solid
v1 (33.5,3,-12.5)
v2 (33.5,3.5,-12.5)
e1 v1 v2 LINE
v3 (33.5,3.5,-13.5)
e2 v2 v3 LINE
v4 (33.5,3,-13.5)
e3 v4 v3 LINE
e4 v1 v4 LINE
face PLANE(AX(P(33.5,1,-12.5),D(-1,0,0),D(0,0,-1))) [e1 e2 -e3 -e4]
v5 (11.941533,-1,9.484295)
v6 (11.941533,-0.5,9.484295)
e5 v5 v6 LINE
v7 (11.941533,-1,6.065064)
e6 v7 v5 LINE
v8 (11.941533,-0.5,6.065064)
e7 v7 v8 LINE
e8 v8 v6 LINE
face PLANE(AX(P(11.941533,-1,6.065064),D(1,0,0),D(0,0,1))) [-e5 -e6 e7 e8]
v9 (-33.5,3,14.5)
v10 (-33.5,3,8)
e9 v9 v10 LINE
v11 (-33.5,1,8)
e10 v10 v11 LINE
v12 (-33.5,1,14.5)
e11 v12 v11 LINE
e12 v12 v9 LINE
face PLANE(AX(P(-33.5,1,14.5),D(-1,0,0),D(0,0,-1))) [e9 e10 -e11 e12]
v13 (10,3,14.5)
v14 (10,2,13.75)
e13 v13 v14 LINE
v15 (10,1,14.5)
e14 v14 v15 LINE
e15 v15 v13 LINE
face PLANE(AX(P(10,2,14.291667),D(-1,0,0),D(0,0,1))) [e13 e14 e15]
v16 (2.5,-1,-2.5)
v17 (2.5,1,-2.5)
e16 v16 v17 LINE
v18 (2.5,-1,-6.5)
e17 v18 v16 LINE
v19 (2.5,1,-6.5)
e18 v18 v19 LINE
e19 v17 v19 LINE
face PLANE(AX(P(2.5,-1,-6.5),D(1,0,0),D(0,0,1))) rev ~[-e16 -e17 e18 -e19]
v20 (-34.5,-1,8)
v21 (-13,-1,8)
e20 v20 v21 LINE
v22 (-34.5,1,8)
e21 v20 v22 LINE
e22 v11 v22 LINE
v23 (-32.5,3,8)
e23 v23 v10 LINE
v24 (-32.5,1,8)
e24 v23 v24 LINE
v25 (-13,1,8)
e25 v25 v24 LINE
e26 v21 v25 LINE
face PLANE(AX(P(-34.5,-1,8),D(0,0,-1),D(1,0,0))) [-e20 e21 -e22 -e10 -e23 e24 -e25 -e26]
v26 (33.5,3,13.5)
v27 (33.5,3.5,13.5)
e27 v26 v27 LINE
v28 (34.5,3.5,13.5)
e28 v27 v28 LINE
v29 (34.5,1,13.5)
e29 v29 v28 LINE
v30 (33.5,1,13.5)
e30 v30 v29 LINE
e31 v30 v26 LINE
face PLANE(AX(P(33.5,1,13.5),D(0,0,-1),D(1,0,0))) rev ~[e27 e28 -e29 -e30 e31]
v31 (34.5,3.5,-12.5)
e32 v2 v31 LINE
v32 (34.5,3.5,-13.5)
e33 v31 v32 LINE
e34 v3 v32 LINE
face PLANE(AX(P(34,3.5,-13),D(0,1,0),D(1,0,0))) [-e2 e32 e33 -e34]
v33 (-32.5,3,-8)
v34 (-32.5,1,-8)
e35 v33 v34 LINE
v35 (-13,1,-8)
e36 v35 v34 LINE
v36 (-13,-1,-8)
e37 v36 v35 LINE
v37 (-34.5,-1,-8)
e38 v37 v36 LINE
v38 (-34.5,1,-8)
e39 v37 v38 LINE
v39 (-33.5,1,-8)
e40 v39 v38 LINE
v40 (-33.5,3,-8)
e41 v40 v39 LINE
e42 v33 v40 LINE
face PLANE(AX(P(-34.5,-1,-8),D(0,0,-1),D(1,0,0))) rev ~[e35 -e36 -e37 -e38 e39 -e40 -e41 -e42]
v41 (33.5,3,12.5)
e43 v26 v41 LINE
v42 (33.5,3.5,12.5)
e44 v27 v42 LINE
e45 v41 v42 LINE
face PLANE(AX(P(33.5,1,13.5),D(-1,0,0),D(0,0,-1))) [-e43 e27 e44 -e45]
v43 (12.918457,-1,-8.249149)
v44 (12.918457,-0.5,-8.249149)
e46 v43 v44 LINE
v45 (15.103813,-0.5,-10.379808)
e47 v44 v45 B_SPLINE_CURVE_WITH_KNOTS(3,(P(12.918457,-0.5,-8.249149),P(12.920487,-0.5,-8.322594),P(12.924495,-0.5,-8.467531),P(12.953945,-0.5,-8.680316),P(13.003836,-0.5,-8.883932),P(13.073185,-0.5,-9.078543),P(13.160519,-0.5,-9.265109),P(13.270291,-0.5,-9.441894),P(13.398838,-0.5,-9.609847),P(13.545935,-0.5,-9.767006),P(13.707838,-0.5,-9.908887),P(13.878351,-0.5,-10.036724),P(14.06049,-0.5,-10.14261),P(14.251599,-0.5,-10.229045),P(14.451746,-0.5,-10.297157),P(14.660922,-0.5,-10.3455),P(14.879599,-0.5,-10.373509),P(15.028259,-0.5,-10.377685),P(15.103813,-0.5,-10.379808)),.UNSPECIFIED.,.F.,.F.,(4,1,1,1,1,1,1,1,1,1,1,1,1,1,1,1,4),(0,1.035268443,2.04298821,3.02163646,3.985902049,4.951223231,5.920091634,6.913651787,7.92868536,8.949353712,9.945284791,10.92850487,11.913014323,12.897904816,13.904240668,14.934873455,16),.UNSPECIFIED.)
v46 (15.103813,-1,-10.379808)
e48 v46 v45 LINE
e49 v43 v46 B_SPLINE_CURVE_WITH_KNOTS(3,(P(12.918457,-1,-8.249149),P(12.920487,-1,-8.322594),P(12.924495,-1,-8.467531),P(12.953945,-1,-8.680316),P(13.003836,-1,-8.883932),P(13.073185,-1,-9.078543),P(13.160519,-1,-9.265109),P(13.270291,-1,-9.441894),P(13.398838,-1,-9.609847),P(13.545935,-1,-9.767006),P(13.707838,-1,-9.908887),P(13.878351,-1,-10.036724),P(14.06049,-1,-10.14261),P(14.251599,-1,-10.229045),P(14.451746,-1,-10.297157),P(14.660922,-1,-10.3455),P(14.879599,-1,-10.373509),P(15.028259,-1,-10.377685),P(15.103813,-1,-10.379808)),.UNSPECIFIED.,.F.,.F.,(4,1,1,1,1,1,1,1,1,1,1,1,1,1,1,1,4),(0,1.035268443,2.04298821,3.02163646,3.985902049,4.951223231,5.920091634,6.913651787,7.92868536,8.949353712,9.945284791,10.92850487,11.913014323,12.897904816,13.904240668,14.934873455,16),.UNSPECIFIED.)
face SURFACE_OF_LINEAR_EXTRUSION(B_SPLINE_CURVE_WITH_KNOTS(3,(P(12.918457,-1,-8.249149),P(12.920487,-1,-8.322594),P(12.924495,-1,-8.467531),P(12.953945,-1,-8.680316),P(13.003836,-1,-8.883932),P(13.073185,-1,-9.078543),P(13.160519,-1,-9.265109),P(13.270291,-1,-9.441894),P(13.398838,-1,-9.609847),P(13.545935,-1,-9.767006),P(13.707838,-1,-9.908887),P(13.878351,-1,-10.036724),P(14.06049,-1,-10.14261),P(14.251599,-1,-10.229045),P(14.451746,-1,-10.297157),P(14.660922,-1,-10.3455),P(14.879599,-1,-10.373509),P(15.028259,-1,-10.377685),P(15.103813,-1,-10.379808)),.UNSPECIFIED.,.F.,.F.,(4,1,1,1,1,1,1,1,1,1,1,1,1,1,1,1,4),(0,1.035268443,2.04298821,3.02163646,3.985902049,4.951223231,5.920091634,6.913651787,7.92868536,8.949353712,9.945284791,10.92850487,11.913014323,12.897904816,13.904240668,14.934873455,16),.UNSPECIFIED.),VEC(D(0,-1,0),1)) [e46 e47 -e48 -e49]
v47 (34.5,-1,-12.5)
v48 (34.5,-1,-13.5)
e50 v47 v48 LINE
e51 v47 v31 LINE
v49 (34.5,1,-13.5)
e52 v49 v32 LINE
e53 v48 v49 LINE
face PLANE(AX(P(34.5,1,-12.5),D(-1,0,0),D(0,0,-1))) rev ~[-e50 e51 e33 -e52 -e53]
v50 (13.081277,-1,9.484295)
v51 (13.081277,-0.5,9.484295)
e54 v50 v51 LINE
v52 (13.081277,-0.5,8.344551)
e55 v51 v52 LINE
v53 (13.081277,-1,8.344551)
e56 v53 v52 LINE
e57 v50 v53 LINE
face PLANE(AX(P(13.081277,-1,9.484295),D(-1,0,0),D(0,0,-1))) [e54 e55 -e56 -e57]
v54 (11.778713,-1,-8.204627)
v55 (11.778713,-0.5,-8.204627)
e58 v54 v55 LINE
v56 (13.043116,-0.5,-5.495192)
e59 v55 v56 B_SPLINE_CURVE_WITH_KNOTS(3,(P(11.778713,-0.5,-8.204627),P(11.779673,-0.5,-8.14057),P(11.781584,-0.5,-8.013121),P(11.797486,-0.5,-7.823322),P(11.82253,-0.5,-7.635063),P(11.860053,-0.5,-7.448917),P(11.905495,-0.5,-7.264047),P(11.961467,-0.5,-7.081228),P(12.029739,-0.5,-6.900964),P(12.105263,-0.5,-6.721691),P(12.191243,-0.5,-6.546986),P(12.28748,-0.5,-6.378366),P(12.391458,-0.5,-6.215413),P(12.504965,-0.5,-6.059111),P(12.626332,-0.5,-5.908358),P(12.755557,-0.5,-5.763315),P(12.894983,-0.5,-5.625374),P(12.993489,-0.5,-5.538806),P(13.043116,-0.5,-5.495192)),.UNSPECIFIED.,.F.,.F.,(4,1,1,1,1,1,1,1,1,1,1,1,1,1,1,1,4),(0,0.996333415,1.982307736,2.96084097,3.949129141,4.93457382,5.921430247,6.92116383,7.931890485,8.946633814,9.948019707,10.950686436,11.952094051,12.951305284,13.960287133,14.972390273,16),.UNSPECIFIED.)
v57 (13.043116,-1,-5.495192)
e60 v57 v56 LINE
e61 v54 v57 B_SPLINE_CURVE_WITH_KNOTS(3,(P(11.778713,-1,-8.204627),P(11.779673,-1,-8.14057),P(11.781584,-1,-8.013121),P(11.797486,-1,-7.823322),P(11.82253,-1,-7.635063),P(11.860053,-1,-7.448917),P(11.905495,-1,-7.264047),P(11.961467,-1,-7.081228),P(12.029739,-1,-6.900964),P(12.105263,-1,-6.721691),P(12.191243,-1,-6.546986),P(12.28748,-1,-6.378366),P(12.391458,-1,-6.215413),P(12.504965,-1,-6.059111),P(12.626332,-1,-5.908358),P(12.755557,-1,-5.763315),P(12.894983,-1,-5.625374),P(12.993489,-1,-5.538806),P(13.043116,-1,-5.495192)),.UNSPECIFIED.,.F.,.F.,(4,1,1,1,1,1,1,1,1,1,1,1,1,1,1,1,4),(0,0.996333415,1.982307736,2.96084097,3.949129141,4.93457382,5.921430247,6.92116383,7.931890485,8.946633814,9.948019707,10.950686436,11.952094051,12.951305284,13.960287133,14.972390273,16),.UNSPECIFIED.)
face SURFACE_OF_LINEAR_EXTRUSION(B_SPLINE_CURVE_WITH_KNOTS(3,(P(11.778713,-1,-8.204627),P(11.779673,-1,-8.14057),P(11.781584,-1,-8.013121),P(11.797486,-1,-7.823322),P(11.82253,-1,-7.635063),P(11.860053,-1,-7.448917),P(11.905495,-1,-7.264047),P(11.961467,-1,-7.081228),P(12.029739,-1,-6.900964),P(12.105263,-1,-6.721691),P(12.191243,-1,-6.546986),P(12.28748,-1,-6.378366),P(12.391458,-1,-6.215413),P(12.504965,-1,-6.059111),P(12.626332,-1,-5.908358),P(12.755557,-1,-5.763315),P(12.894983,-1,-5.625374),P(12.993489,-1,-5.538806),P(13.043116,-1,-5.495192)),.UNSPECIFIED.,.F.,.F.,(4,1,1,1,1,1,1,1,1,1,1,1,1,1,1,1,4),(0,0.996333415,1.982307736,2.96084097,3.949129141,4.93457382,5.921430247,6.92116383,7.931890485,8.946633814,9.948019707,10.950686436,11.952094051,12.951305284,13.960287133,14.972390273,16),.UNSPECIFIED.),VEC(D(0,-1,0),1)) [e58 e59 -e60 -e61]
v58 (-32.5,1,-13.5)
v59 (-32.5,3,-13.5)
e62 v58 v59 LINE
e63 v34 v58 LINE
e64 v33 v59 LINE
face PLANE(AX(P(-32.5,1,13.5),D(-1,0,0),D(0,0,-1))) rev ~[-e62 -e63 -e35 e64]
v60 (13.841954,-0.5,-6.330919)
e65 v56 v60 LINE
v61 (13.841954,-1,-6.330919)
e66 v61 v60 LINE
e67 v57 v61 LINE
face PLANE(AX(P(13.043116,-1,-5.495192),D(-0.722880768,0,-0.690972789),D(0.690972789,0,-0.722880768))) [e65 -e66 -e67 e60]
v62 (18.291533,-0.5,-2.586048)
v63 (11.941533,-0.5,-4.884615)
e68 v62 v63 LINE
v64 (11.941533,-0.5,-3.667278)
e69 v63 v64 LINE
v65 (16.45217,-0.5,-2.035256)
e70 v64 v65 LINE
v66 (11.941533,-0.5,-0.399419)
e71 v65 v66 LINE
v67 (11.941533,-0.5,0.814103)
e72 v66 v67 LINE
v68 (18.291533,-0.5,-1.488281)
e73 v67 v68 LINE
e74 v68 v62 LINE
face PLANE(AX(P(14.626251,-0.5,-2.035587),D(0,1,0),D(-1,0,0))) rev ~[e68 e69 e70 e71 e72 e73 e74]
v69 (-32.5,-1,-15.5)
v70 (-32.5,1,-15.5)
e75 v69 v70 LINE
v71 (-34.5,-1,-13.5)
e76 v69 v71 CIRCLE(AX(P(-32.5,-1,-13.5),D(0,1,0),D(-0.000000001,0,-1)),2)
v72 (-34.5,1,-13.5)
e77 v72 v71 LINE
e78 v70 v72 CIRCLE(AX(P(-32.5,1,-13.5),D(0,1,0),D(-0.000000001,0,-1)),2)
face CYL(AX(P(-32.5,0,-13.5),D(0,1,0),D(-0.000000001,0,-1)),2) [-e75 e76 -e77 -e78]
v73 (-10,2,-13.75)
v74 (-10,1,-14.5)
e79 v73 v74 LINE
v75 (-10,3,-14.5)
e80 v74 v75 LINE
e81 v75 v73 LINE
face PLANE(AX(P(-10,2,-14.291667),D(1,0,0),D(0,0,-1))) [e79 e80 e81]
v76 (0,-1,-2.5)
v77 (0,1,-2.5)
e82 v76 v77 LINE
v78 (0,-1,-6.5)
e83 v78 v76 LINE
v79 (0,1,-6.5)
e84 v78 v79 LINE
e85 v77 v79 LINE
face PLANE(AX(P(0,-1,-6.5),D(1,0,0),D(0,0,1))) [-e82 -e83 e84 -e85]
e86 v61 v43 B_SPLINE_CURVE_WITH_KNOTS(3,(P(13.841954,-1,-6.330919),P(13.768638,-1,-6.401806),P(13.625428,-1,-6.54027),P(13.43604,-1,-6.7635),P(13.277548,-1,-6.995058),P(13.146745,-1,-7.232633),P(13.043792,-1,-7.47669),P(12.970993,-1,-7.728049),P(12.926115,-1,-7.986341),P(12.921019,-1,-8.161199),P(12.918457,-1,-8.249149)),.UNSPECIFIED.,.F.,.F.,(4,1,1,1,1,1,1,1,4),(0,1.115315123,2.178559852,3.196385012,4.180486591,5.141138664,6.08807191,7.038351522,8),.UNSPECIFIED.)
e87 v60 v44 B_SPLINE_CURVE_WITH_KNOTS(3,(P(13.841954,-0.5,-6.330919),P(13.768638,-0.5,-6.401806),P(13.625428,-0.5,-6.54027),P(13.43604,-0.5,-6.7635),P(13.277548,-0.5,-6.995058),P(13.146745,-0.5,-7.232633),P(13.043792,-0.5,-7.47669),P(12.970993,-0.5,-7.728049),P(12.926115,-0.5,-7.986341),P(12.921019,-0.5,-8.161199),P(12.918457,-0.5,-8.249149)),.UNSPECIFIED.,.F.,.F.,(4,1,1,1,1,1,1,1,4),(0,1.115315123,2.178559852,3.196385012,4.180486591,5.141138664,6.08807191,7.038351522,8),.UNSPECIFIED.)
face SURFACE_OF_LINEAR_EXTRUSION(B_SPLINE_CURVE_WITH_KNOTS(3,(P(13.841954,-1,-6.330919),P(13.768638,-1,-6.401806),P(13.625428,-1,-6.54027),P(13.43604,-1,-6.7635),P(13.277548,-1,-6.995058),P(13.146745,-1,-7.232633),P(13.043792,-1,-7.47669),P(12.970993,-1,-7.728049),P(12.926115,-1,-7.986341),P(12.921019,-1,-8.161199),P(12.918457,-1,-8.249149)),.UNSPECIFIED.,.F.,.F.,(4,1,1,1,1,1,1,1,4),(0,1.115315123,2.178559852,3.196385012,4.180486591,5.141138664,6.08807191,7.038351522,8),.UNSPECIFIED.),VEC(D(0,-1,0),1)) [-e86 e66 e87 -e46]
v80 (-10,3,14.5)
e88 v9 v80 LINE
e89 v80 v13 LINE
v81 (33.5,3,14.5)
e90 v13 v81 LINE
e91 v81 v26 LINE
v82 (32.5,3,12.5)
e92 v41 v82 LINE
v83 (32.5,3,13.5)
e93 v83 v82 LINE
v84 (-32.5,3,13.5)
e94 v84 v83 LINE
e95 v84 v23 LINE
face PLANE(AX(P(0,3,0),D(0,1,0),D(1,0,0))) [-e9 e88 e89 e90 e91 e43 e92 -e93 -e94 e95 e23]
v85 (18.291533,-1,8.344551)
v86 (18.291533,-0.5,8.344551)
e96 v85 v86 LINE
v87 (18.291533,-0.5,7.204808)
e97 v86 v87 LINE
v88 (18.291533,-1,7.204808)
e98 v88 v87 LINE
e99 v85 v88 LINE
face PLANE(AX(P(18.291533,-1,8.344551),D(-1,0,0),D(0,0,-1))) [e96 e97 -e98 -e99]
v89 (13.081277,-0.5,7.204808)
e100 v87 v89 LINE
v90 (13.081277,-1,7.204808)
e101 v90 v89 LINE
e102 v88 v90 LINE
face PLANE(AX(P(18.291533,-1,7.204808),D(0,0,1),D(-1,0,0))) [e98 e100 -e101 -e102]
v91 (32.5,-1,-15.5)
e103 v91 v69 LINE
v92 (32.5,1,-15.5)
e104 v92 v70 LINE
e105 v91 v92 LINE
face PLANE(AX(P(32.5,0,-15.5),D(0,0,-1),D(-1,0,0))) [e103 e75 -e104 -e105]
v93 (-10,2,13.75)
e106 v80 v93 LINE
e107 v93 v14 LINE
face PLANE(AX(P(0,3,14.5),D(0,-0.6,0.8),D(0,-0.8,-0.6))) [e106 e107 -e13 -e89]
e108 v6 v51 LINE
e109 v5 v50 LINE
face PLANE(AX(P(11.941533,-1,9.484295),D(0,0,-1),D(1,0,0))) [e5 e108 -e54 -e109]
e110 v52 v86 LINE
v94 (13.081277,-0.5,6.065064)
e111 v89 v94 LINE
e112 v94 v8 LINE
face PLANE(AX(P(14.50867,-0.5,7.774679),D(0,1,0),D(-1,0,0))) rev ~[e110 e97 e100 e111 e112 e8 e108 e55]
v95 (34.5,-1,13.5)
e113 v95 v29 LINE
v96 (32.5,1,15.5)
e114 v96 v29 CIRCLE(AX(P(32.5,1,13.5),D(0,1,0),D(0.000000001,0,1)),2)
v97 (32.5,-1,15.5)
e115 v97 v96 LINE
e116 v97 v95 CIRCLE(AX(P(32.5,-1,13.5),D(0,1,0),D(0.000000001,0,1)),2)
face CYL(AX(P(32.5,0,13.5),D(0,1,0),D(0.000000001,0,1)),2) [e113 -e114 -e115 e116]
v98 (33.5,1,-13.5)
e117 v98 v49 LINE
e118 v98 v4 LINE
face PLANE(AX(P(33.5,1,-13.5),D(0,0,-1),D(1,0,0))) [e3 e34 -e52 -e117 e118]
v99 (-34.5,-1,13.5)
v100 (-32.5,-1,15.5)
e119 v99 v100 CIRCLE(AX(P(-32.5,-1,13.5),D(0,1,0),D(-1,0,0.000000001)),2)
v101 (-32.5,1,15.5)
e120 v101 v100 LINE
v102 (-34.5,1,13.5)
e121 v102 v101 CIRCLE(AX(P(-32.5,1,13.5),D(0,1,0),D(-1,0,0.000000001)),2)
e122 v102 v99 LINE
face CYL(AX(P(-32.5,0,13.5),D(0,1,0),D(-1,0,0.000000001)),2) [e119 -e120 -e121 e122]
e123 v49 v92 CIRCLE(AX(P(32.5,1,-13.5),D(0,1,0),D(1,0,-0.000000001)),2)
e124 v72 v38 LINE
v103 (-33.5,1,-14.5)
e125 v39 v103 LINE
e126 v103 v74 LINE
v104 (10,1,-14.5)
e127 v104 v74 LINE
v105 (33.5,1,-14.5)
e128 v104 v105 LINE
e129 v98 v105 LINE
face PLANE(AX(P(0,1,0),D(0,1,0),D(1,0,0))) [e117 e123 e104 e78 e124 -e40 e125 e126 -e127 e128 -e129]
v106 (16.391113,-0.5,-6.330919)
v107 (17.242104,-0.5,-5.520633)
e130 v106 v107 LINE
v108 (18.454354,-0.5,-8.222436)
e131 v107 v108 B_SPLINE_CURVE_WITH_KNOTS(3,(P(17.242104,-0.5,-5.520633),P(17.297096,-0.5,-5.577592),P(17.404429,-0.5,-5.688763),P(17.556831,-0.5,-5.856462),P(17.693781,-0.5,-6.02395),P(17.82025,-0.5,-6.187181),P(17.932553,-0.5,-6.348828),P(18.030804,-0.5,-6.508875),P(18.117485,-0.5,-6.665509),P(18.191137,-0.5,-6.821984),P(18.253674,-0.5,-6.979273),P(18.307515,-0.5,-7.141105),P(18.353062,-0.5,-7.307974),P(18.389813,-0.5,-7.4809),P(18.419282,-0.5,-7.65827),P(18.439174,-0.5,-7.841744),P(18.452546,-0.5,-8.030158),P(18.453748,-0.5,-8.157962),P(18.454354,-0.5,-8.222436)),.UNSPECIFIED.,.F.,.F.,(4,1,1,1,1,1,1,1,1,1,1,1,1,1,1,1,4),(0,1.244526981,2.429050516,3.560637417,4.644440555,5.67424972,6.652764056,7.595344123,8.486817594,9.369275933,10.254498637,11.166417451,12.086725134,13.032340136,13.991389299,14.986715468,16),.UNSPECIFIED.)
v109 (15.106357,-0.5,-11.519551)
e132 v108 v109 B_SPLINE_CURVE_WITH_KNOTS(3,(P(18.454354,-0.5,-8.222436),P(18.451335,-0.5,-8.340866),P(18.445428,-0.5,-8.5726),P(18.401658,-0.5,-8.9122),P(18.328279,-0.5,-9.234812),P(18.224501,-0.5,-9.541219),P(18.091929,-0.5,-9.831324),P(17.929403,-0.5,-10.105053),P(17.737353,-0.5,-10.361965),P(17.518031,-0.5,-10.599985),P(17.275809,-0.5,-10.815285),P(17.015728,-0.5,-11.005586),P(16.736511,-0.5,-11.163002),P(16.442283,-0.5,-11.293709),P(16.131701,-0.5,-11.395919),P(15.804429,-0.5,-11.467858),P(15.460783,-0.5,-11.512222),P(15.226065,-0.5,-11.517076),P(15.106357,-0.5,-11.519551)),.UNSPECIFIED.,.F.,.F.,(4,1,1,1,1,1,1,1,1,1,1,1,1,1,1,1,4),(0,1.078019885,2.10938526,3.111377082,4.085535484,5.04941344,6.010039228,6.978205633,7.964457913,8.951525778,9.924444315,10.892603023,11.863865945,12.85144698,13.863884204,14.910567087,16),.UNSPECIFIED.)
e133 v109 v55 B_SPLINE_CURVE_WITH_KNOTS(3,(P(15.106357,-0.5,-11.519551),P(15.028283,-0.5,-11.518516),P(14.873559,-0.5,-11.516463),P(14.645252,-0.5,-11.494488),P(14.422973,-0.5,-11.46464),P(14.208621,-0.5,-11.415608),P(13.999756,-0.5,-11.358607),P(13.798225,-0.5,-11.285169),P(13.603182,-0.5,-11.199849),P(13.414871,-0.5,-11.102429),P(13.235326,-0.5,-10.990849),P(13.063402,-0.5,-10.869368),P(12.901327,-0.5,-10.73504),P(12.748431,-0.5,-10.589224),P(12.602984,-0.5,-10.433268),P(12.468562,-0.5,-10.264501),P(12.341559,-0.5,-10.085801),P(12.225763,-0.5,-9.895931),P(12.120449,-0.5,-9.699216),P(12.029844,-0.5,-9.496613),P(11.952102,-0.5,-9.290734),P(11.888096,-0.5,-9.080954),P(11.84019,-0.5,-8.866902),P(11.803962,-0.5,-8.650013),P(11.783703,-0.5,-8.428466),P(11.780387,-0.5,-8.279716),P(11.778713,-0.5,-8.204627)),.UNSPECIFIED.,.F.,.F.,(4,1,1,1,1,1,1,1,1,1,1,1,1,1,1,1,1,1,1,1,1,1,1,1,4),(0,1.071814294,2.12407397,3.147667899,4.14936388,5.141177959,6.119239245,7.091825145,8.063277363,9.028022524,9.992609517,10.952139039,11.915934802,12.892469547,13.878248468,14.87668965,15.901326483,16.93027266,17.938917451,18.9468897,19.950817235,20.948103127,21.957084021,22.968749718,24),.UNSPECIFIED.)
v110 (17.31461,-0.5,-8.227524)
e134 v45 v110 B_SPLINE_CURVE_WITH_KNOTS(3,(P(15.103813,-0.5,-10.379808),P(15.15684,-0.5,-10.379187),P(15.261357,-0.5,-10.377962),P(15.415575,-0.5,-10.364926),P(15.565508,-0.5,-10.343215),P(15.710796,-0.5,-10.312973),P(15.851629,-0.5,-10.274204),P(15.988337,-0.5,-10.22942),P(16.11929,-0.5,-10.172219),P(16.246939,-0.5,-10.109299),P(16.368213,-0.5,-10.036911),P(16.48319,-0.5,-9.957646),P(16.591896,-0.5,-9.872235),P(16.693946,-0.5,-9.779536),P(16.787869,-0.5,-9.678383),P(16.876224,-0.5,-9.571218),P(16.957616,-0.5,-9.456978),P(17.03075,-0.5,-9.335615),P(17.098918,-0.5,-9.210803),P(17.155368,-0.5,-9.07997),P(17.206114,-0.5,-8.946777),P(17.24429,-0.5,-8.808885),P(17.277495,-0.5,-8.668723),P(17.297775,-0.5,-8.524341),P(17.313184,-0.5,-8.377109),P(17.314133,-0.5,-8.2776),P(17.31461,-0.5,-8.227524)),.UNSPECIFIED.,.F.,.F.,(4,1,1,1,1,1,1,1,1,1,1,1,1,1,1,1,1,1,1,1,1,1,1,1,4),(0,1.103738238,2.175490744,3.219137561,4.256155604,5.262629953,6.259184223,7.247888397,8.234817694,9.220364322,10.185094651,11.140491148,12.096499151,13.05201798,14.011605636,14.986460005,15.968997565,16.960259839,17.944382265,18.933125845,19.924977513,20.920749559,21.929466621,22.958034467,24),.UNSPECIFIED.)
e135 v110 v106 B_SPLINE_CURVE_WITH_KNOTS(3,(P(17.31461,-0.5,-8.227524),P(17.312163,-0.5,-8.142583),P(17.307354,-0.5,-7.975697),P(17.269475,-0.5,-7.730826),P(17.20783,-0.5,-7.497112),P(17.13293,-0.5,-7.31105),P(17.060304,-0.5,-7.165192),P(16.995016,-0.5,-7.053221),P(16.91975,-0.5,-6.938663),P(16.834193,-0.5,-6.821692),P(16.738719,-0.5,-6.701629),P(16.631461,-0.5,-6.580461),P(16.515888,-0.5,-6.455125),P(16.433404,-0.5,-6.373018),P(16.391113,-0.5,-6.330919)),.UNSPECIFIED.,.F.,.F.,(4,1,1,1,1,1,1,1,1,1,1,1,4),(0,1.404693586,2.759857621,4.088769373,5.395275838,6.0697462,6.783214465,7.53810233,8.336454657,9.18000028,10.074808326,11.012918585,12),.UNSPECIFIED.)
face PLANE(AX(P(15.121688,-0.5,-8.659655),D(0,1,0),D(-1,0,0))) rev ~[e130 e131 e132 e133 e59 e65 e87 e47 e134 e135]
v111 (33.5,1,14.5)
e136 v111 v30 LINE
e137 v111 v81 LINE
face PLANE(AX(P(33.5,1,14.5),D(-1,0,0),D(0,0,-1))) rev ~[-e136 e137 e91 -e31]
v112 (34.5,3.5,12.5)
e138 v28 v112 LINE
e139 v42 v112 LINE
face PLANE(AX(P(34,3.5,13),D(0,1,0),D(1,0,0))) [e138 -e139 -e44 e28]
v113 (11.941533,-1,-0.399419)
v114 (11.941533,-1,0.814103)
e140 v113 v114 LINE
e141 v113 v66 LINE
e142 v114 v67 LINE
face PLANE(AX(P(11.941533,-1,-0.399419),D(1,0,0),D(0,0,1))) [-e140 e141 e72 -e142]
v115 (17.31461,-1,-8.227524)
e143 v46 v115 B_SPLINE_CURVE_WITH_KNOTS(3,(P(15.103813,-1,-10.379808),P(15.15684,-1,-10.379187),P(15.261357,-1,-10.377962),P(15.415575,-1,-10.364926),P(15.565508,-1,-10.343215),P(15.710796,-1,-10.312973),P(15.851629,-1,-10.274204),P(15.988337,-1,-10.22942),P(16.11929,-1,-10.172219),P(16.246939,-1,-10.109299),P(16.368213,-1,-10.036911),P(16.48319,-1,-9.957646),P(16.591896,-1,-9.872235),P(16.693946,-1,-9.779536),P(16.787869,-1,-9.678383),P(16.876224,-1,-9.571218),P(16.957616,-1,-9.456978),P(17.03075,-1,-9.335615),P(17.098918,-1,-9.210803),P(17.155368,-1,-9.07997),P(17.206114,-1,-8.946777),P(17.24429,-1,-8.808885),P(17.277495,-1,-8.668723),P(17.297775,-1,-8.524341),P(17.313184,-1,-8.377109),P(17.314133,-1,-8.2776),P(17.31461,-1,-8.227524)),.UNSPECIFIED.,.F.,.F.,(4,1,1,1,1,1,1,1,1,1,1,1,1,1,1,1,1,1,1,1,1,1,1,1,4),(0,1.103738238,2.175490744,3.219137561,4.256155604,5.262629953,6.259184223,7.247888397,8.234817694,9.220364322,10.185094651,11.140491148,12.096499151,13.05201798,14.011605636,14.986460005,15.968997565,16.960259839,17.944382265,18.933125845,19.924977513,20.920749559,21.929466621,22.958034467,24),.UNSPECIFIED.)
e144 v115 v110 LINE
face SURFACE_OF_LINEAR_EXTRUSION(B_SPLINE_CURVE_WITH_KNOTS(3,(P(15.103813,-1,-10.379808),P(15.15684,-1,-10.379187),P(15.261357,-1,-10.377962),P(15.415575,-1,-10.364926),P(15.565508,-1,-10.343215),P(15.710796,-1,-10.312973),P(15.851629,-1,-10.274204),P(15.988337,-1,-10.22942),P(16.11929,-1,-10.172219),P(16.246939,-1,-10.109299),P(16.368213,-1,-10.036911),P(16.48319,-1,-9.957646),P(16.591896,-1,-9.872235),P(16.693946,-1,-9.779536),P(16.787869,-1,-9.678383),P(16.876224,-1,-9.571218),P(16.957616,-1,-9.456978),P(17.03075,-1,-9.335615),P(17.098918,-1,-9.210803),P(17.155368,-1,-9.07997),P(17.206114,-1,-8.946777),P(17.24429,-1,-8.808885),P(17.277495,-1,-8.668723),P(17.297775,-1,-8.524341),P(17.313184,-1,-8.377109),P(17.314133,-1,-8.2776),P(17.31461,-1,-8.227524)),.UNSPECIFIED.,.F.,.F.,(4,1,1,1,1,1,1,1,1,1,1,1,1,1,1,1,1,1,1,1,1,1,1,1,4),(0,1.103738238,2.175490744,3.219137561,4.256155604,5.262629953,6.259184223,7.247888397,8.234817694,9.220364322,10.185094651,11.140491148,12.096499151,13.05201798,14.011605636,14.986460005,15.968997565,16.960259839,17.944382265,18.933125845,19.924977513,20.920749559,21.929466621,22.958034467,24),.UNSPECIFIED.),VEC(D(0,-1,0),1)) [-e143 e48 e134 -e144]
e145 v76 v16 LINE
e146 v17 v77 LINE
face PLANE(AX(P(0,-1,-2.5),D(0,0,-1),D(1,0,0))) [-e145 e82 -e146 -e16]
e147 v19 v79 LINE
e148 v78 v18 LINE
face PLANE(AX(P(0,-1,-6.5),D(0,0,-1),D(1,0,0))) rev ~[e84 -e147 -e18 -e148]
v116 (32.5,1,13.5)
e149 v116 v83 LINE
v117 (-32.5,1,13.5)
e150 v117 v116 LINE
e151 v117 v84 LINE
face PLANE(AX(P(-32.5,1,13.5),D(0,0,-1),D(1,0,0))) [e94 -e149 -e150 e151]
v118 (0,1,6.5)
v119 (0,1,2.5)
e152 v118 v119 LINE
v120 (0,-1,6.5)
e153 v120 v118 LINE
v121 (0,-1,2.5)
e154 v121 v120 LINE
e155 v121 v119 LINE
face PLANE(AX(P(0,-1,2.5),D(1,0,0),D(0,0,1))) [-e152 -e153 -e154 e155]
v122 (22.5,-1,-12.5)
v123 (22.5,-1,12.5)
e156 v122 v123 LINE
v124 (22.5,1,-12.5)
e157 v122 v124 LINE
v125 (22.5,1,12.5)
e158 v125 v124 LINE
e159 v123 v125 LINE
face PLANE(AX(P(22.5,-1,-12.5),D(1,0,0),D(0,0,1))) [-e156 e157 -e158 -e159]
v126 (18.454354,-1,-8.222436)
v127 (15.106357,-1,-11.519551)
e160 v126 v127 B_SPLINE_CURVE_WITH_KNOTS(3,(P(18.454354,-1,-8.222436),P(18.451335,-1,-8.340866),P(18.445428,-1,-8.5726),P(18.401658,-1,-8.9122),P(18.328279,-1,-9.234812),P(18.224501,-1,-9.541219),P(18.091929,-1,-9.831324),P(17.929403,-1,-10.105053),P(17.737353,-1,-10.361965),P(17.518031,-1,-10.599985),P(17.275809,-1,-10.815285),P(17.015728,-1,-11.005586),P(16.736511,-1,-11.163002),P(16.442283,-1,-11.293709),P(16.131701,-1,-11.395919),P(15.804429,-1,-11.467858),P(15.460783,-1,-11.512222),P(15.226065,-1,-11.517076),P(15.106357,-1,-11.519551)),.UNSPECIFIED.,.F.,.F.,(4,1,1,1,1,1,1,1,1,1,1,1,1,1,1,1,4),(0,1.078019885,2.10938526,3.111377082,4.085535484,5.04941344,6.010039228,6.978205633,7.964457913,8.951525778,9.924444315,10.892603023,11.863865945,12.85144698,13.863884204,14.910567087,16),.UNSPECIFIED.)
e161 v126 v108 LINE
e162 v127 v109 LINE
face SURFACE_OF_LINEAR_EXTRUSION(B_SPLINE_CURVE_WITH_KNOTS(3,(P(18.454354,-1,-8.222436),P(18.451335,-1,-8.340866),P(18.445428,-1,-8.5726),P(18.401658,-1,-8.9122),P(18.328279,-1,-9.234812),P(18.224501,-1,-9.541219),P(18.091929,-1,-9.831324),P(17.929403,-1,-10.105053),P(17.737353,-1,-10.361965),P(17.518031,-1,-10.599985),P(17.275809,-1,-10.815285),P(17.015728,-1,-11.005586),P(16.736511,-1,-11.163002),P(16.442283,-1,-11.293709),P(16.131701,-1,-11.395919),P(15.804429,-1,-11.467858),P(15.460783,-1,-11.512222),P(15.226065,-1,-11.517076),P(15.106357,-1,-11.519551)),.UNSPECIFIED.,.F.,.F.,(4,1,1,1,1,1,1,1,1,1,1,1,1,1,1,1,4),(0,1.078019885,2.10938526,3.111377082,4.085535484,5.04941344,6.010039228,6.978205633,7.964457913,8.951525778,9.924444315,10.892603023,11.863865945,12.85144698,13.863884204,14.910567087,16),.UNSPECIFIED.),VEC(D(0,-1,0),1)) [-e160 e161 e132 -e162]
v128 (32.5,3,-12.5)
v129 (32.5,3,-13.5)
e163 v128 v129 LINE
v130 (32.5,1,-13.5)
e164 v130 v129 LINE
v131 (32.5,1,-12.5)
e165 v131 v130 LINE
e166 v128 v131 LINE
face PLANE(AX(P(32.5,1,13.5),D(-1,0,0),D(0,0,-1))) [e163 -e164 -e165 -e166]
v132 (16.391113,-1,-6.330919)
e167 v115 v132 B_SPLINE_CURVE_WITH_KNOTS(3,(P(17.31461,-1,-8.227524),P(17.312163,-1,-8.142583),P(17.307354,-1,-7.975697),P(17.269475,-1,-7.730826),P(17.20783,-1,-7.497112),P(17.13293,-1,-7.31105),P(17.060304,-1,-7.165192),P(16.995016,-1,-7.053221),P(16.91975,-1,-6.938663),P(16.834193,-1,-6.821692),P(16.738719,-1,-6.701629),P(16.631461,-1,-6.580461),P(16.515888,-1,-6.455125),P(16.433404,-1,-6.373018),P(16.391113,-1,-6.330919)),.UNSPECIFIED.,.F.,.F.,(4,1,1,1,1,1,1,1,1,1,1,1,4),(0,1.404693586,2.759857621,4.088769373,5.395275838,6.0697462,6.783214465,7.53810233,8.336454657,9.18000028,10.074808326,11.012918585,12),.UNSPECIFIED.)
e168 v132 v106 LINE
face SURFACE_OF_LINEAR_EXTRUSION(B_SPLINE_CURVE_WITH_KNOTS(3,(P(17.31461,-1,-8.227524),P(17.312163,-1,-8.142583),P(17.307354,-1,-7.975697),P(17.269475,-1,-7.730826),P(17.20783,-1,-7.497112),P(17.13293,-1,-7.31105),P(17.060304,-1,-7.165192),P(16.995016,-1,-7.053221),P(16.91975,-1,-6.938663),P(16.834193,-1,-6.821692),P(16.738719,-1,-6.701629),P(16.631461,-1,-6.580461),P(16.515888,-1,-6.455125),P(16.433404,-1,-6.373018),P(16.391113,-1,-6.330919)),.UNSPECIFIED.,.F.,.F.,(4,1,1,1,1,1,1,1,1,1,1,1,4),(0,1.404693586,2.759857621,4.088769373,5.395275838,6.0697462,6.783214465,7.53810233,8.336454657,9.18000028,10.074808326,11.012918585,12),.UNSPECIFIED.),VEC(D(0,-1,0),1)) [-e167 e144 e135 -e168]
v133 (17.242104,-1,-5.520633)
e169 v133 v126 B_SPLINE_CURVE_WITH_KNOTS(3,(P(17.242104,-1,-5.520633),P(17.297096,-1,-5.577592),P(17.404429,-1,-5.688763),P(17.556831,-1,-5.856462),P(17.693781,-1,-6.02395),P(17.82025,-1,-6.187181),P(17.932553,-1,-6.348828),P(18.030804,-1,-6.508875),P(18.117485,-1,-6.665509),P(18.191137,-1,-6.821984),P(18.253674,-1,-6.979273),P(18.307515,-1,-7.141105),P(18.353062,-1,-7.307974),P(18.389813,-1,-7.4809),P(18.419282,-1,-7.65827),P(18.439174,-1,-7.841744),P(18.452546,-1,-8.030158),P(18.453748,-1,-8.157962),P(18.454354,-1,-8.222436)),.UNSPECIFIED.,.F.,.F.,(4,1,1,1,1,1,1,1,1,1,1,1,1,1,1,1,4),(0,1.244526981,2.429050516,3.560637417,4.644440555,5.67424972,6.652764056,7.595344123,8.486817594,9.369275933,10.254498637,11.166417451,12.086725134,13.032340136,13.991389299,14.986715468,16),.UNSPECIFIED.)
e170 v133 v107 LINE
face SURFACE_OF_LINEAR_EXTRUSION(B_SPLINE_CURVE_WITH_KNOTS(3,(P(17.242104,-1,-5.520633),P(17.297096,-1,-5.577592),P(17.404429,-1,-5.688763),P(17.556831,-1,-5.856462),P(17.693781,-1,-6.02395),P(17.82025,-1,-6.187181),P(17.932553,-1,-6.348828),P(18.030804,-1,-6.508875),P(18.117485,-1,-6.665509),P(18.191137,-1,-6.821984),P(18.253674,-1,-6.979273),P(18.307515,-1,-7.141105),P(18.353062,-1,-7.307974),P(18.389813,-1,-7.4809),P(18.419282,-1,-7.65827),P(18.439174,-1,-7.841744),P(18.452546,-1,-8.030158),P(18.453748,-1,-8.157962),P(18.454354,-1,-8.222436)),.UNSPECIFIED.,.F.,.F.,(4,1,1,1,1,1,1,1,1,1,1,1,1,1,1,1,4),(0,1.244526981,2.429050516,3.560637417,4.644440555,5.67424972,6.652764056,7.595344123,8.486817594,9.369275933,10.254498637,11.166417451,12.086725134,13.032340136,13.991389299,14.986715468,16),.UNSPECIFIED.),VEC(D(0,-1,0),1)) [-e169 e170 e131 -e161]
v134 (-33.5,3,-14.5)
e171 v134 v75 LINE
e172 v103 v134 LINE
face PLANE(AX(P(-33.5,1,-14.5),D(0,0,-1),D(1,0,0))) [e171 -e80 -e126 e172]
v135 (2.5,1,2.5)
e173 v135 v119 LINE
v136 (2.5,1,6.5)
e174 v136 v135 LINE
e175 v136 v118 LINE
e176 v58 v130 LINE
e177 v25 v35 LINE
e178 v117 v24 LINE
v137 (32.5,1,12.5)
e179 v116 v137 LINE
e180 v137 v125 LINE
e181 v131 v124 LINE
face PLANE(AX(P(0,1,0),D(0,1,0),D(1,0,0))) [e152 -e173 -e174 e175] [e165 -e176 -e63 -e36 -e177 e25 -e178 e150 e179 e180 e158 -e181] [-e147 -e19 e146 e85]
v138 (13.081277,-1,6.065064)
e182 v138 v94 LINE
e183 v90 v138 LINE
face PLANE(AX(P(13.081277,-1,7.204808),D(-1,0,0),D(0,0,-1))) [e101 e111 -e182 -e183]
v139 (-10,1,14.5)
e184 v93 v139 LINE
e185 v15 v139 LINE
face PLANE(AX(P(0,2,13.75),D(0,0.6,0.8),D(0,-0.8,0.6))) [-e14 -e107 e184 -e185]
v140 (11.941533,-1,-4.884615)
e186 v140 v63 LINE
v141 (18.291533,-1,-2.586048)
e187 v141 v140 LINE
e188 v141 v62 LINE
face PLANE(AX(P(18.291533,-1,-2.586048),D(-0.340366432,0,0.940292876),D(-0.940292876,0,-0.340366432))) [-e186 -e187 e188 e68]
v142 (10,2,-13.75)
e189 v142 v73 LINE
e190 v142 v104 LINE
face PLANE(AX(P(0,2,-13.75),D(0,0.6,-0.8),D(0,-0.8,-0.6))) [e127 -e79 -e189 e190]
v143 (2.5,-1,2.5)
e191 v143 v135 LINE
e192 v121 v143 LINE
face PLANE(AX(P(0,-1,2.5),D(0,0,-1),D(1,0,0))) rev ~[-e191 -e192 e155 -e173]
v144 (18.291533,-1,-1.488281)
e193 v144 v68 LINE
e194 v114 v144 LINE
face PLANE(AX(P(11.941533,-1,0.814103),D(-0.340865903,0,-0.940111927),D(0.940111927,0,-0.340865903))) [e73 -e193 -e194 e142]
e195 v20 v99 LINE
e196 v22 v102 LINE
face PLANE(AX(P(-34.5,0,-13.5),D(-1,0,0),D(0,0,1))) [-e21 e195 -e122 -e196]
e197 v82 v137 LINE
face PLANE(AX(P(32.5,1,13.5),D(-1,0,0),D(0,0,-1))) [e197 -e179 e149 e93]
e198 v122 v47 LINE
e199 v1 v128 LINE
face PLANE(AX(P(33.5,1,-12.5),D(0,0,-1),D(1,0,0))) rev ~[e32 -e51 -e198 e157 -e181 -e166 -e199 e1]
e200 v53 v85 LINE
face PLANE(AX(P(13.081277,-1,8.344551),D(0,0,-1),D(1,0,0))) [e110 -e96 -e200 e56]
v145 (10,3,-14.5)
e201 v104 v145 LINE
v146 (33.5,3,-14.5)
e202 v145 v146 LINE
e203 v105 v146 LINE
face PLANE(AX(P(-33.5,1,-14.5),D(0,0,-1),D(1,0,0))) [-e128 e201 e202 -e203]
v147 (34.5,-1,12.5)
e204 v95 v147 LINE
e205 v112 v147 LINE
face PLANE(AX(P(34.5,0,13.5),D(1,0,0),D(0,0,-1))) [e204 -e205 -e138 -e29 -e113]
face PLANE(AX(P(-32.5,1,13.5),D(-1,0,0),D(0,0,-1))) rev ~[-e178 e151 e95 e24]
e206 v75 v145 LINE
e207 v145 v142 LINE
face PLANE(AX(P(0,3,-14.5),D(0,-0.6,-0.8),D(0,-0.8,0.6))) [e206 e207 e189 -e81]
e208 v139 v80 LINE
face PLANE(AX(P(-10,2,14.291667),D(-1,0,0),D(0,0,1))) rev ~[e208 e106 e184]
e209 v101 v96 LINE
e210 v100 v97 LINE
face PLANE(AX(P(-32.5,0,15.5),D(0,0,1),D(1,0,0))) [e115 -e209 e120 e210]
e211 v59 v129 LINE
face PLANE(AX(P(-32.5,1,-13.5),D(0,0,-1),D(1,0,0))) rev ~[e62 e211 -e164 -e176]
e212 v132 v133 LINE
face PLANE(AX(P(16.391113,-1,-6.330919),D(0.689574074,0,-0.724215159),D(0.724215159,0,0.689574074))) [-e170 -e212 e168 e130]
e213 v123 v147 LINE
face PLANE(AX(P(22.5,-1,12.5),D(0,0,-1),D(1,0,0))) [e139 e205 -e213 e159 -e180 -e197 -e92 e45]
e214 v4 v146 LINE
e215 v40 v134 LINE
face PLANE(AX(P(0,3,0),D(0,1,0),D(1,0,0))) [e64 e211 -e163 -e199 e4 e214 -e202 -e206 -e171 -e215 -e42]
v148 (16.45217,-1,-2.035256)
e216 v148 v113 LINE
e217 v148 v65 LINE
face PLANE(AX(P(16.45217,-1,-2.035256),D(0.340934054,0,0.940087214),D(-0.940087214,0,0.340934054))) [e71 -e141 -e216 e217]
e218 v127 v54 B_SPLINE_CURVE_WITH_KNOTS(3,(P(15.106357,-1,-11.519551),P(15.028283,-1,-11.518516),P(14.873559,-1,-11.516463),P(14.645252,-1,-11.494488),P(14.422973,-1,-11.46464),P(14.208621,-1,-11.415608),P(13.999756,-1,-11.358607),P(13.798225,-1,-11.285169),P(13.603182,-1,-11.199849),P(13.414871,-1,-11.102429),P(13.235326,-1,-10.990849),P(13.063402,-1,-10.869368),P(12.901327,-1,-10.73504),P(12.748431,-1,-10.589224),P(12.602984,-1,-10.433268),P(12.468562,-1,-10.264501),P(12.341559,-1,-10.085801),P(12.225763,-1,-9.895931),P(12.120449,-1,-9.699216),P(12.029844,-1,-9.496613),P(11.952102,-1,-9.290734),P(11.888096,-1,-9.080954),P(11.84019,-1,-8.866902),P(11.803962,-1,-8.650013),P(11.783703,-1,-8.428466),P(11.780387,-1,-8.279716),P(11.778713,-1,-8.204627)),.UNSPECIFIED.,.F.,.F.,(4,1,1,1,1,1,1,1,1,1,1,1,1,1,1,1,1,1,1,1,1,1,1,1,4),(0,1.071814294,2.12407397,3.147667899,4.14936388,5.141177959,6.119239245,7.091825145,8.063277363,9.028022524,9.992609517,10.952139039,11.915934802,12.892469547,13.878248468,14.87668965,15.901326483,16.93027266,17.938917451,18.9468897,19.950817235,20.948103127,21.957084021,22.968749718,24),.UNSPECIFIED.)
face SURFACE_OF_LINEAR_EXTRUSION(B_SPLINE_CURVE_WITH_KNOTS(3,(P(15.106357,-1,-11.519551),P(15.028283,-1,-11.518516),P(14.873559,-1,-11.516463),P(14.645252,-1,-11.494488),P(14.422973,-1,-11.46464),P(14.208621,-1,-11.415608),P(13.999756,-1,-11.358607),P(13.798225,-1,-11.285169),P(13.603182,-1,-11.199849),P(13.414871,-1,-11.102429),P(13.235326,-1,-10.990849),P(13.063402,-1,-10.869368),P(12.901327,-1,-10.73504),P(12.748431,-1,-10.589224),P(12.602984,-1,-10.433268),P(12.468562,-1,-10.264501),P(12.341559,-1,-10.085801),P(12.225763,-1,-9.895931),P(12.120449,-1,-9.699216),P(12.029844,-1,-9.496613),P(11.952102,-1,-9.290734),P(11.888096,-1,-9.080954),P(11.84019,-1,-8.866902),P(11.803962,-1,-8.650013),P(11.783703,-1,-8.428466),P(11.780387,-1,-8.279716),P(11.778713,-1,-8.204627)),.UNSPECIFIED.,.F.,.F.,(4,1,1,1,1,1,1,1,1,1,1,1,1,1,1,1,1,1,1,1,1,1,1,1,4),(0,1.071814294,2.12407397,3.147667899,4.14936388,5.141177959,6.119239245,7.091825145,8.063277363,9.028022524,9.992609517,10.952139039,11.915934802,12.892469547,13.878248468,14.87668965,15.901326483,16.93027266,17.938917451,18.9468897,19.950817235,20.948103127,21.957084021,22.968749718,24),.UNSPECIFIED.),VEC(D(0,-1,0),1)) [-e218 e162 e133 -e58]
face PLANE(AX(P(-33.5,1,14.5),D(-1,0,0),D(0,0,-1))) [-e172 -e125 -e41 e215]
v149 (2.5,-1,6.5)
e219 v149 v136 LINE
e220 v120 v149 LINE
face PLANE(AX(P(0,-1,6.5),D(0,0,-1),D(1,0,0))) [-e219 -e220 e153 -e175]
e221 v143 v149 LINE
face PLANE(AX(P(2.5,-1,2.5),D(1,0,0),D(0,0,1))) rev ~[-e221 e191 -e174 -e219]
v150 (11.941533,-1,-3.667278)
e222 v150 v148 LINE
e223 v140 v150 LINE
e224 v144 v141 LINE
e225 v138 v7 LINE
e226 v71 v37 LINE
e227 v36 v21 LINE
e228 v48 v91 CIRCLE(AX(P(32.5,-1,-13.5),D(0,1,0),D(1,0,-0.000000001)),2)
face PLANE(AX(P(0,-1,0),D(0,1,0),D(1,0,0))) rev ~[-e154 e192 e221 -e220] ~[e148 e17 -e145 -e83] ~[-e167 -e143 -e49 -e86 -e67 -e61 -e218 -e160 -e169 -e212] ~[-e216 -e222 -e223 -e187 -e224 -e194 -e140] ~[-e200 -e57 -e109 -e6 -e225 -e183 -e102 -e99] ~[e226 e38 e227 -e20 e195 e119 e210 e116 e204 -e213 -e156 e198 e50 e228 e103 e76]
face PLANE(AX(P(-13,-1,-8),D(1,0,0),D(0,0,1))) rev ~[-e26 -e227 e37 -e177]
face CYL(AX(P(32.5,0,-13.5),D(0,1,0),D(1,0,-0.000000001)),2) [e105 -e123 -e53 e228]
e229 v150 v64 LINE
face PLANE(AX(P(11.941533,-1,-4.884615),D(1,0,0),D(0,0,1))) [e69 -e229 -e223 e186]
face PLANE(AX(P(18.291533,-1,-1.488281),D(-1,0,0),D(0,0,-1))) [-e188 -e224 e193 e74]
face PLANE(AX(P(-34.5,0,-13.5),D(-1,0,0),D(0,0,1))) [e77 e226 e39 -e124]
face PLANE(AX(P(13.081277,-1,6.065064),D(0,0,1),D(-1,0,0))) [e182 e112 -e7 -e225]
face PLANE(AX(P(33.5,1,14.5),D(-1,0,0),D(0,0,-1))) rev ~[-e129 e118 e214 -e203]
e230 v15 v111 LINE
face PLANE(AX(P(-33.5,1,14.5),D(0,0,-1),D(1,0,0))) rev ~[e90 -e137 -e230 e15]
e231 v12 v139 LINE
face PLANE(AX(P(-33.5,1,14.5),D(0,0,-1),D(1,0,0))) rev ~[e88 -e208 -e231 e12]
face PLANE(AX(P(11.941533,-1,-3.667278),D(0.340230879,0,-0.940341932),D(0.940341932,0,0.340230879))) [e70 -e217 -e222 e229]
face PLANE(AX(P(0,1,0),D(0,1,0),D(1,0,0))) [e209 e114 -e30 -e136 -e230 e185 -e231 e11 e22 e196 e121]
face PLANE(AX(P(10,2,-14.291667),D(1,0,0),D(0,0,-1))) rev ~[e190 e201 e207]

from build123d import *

# Parameters (mm, degrees)
BOSS_EXTRUDE1_DEPTH = 1
SKETCH3_W           = 67
SKETCH3_H           = 29
SKETCH3_W_2         = 65
SKETCH3_H_2         = 27
BOSS_EXTRUDE2_DEPTH = 2
CUT_EXTRUDE1_DEPTH  = 10
SKETCH7_W           = 21.5
SKETCH7_H           = 16
SKETCH7_W_2         = 12
SKETCH7_H_2         = 25
CUT_EXTRUDE2_DEPTH  = 20
SKETCH11_W          = 1
SKETCH11_H          = 1
BOSS_EXTRUDE5_DEPTH = 2.5
CUT_EXTRUDE3_DEPTH  = 0.5
SKETCH13_W          = 2.5
SKETCH13_H          = 4
CUT_EXTRUDE4_DEPTH  = 39.08871237


with BuildPart() as part:
    # Sketch1 → Boss-Extrude1 (new, symmetric)
    with BuildSketch(Plane(origin=(0, 0, 0), x_dir=(1, 0, 0), z_dir=(0, 1, 0))):
        with BuildLine():
            Line((-32.5, -15.5), (32.5, -15.5))
            ThreePointArc((32.5, -15.5), (33.914213562, -14.914213562), (34.5, -13.5))
            Line((34.5, -13.5), (34.5, 13.5))
            ThreePointArc((34.5, 13.5), (33.914213562, 14.914213562), (32.5, 15.5))
            Line((32.5, 15.5), (-32.5, 15.5))
            ThreePointArc((-32.5, 15.5), (-33.914213562, 14.914213562), (-34.5, 13.5))
            Line((-34.5, 13.5), (-34.5, -13.5))
            ThreePointArc((-34.5, -13.5), (-33.914213562, -14.914213562), (-32.5, -15.5))
        make_face()
    extrude(amount=BOSS_EXTRUDE1_DEPTH, both=True)

    # Sketch3 → Boss-Extrude2 (add)
    with BuildSketch(Plane(origin=(0, 1, 0), x_dir=(1, 0, 0), z_dir=(0, 1, 0))):
        Rectangle(SKETCH3_W, SKETCH3_H)
        Rectangle(SKETCH3_W_2, SKETCH3_H_2, mode=Mode.SUBTRACT)
    extrude(amount=BOSS_EXTRUDE2_DEPTH)

    # Sketch6 → Cut-Extrude1 (cut, symmetric)
    with BuildSketch(Plane(origin=(0, 0, 0), x_dir=(0, 0, -1), z_dir=(1, 0, 0))):
        Polygon((14.5, 1), (14.5, 3), (13.75, 2), align=None)
        Polygon((-13.75, 2), (-14.5, 1), (-14.5, 3), align=None)
    extrude(amount=CUT_EXTRUDE1_DEPTH, both=True, mode=Mode.SUBTRACT)

    # Sketch7 → Cut-Extrude2 (cut)
    with BuildSketch(Plane.XZ.offset(1)):
        with Locations((-23.75, 0)):
            Rectangle(SKETCH7_W, SKETCH7_H)
        with Locations((28.5, 0)):
            Rectangle(SKETCH7_W_2, SKETCH7_H_2)
    extrude(amount=-CUT_EXTRUDE2_DEPTH, mode=Mode.SUBTRACT)

    # Sketch11 → Boss-Extrude5 (add)
    with BuildSketch(Plane(origin=(0, 1, 0), x_dir=(1, 0, 0), z_dir=(0, 1, 0))):
        with Locations((34, 13)):
            Rectangle(SKETCH11_W, SKETCH11_H)
        with Locations((34, -13)):
            Rectangle(SKETCH11_W, SKETCH11_H)
    extrude(amount=BOSS_EXTRUDE5_DEPTH)

    # Sketch12 → Cut-Extrude3 (cut)
    with BuildSketch(Plane.XZ.offset(1)):
        Polygon((11.941533437, 6.065064103), (11.941533437, 9.484294872), (13.081277027, 9.484294872), (13.081277027, 8.344551282), (18.291533437, 8.344551282), (18.291533437, 7.204807692), (13.081277027, 7.204807692), (13.081277027, 6.065064103), align=None)
        Polygon((11.941533437, -4.884615385), (11.941533437, -3.667277644), (16.452170457, -2.03525641), (11.941533437, -0.399419071), (11.941533437, 0.814102564), (18.291533437, -1.48828125), (18.291533437, -2.586047676), align=None)
        with BuildLine():
            Line((13.043115969, -5.495192308), (13.84195411, -6.330919471))
            add(Edge.make_bspline(
                [(13.84195411, -6.330919471), (13.768637735, -6.401806055), (13.625427884, -6.540269761), (13.436040425, -6.763499644), (13.277548365, -6.995057512), (13.146745209, -7.232632751), (13.043791904, -7.47669033), (12.970992617, -7.72804876), (12.926114938, -7.986340764), (12.921019422, -8.161199427), (12.918456514, -8.249148638)],
                knots=[0, 0, 0, 0, 1.115315123, 2.178559852, 3.196385012, 4.180486591, 5.141138664, 6.08807191, 7.038351522, 8, 8, 8, 8], degree=3))
            add(Edge.make_bspline(
                [(12.918456514, -8.249148638), (12.920487286, -8.322594137), (12.92449479, -8.467530739), (12.953944547, -8.680315542), (13.00383624, -8.883932376), (13.07318533, -9.078542785), (13.160519089, -9.265108945), (13.270291327, -9.441893594), (13.398838264, -9.609846789), (13.545934957, -9.767006139), (13.707838119, -9.908887036), (13.878351171, -10.03672374), (14.060490077, -10.142609994), (14.251598692, -10.229044823), (14.451746028, -10.297157456), (14.660922066, -10.345499724), (14.879599088, -10.373509267), (15.028259493, -10.377685306), (15.103813085, -10.379807692)],
                knots=[0, 0, 0, 0, 1.035268443, 2.04298821, 3.02163646, 3.985902049, 4.951223231, 5.920091634, 6.913651787, 7.92868536, 8.949353712, 9.945284791, 10.92850487, 11.913014323, 12.897904816, 13.904240668, 14.934873455, 16, 16, 16, 16], degree=3))
            add(Edge.make_bspline(
                [(15.103813085, -10.379807692), (15.156840057, -10.379186533), (15.261357308, -10.377962216), (15.415574733, -10.364925614), (15.565507754, -10.343215337), (15.710796025, -10.312972773), (15.851629254, -10.274204313), (15.988337217, -10.229420059), (16.119289945, -10.172219135), (16.24693936, -10.109298874), (16.368212678, -10.036911087), (16.483189742, -9.95764624), (16.591896287, -9.872234836), (16.693945792, -9.779536195), (16.787869185, -9.678383039), (16.876223869, -9.571218373), (16.957616144, -9.456977598), (17.030749894, -9.335614926), (17.098918302, -9.210802926), (17.155368302, -9.07997032), (17.206114124, -8.94677674), (17.244290102, -8.808884538), (17.277495177, -8.66872294), (17.29777454, -8.524340956), (17.313184177, -8.377108845), (17.31413292, -8.277600269), (17.31461036, -8.227524038)],
                knots=[0, 0, 0, 0, 1.103738238, 2.175490744, 3.219137561, 4.256155604, 5.262629953, 6.259184223, 7.247888397, 8.234817694, 9.220364322, 10.185094651, 11.140491148, 12.096499151, 13.05201798, 14.011605636, 14.986460005, 15.968997565, 16.960259839, 17.944382265, 18.933125845, 19.924977513, 20.920749559, 21.929466621, 22.958034467, 24, 24, 24, 24], degree=3))
            add(Edge.make_bspline(
                [(17.31461036, -8.227524038), (17.312162797, -8.142583361), (17.307353971, -7.975697017), (17.269475061, -7.730825721), (17.207829637, -7.497111584), (17.132929858, -7.311049721), (17.060303901, -7.165191721), (16.995016409, -7.053220916), (16.919750327, -6.938662767), (16.834193119, -6.821691737), (16.738718629, -6.701628906), (16.631461316, -6.58046115), (16.51588805, -6.45512538), (16.43340391, -6.373017633), (16.391112764, -6.330919471)],
                knots=[0, 0, 0, 0, 1.404693586, 2.759857621, 4.088769373, 5.395275838, 6.0697462, 6.783214465, 7.53810233, 8.336454657, 9.18000028, 10.074808326, 11.012918585, 12, 12, 12, 12], degree=3))
            Line((16.391112764, -6.330919471), (17.242104351, -5.520633013))
            add(Edge.make_bspline(
                [(17.242104351, -5.520633013), (17.297096261, -5.577591789), (17.404428711, -5.68876314), (17.556830773, -5.856462037), (17.693780967, -6.023949878), (17.820249986, -6.187180506), (17.93255348, -6.348827808), (18.030803608, -6.508874644), (18.117485256, -6.665509211), (18.191136583, -6.821984078), (18.253674209, -6.979272912), (18.307515, -7.141104638), (18.353062372, -7.307973991), (18.38981312, -7.480900133), (18.419282258, -7.658270114), (18.439173756, -7.841743881), (18.452546148, -8.030158121), (18.453747768, -8.157962419), (18.45435395, -8.222435897)],
                knots=[0, 0, 0, 0, 1.244526981, 2.429050516, 3.560637417, 4.644440555, 5.67424972, 6.652764056, 7.595344123, 8.486817594, 9.369275933, 10.254498637, 11.166417451, 12.086725134, 13.032340136, 13.991389299, 14.986715468, 16, 16, 16, 16], degree=3))
            add(Edge.make_bspline(
                [(18.45435395, -8.222435897), (18.451334939, -8.340865691), (18.445427572, -8.572599876), (18.401657986, -8.912200283), (18.328279045, -9.234811554), (18.224500984, -9.541218541), (18.091929374, -9.831323814), (17.929402805, -10.105053156), (17.737353086, -10.361965375), (17.518031224, -10.599985126), (17.275808639, -10.815285319), (17.015728035, -11.005585757), (16.736511209, -11.163002287), (16.442283088, -11.293708623), (16.131700993, -11.395919259), (15.804428969, -11.467858219), (15.460783018, -11.51222245), (15.226064912, -11.51707596), (15.106357155, -11.519551282)],
                knots=[0, 0, 0, 0, 1.078019885, 2.10938526, 3.111377082, 4.085535484, 5.04941344, 6.010039228, 6.978205633, 7.964457913, 8.951525778, 9.924444315, 10.892603023, 11.863865945, 12.85144698, 13.863884204, 14.910567087, 16, 16, 16, 16], degree=3))
            add(Edge.make_bspline(
                [(15.106357155, -11.519551282), (15.028282903, -11.518515641), (14.873558818, -11.516463254), (14.645252317, -11.494488037), (14.422973185, -11.464639878), (14.208620877, -11.415608228), (13.999755502, -11.358606766), (13.798225395, -11.285168838), (13.603181636, -11.199848512), (13.414870564, -11.102428539), (13.235325687, -10.990848613), (13.063401988, -10.869367728), (12.901326556, -10.735039657), (12.748431173, -10.589223971), (12.602984036, -10.433268126), (12.468562175, -10.264501174), (12.341559366, -10.085801372), (12.225763331, -9.895930835), (12.120448829, -9.699216136), (12.029843958, -9.496613136), (11.952101659, -9.290733703), (11.888096138, -9.080953584), (11.840190071, -8.866901839), (11.803961981, -8.650012752), (11.783702598, -8.428465968), (11.780386745, -8.279715595), (11.778712925, -8.204627404)],
                knots=[0, 0, 0, 0, 1.071814294, 2.12407397, 3.147667899, 4.14936388, 5.141177959, 6.119239245, 7.091825145, 8.063277363, 9.028022524, 9.992609517, 10.952139039, 11.915934802, 12.892469547, 13.878248468, 14.87668965, 15.901326483, 16.93027266, 17.938917451, 18.9468897, 19.950817235, 20.948103127, 21.957084021, 22.968749718, 24, 24, 24, 24], degree=3))
            add(Edge.make_bspline(
                [(11.778712925, -8.204627404), (11.779673395, -8.140569838), (11.781584349, -8.013120728), (11.797486076, -7.823322383), (11.822530484, -7.635062735), (11.860053114, -7.448916668), (11.905494747, -7.264047093), (11.961466571, -7.081228011), (12.029739078, -6.900963551), (12.105262879, -6.721690962), (12.191242805, -6.546985568), (12.287480484, -6.37836568), (12.391458247, -6.215413485), (12.504964528, -6.059111316), (12.626332067, -5.908358268), (12.755556847, -5.763315194), (12.894982972, -5.625373889), (12.993488679, -5.538805542), (13.043115969, -5.495192308)],
                knots=[0, 0, 0, 0, 0.996333415, 1.982307736, 2.96084097, 3.949129141, 4.93457382, 5.921430247, 6.92116383, 7.931890485, 8.946633814, 9.948019707, 10.950686436, 11.952094051, 12.951305284, 13.960287133, 14.972390273, 16, 16, 16, 16], degree=3))
        make_face()
    extrude(amount=-CUT_EXTRUDE3_DEPTH, mode=Mode.SUBTRACT)

    # Sketch13 → Cut-Extrude4 (cut, through all)
    with BuildSketch(Plane.XZ.offset(1)):
        with Locations((1.25, 4.5)):
            Rectangle(SKETCH13_W, SKETCH13_H)
        with Locations((1.25, -4.5)):
            Rectangle(SKETCH13_W, SKETCH13_H)
    extrude(amount=-CUT_EXTRUDE4_DEPTH, mode=Mode.SUBTRACT)


solid = part.part
